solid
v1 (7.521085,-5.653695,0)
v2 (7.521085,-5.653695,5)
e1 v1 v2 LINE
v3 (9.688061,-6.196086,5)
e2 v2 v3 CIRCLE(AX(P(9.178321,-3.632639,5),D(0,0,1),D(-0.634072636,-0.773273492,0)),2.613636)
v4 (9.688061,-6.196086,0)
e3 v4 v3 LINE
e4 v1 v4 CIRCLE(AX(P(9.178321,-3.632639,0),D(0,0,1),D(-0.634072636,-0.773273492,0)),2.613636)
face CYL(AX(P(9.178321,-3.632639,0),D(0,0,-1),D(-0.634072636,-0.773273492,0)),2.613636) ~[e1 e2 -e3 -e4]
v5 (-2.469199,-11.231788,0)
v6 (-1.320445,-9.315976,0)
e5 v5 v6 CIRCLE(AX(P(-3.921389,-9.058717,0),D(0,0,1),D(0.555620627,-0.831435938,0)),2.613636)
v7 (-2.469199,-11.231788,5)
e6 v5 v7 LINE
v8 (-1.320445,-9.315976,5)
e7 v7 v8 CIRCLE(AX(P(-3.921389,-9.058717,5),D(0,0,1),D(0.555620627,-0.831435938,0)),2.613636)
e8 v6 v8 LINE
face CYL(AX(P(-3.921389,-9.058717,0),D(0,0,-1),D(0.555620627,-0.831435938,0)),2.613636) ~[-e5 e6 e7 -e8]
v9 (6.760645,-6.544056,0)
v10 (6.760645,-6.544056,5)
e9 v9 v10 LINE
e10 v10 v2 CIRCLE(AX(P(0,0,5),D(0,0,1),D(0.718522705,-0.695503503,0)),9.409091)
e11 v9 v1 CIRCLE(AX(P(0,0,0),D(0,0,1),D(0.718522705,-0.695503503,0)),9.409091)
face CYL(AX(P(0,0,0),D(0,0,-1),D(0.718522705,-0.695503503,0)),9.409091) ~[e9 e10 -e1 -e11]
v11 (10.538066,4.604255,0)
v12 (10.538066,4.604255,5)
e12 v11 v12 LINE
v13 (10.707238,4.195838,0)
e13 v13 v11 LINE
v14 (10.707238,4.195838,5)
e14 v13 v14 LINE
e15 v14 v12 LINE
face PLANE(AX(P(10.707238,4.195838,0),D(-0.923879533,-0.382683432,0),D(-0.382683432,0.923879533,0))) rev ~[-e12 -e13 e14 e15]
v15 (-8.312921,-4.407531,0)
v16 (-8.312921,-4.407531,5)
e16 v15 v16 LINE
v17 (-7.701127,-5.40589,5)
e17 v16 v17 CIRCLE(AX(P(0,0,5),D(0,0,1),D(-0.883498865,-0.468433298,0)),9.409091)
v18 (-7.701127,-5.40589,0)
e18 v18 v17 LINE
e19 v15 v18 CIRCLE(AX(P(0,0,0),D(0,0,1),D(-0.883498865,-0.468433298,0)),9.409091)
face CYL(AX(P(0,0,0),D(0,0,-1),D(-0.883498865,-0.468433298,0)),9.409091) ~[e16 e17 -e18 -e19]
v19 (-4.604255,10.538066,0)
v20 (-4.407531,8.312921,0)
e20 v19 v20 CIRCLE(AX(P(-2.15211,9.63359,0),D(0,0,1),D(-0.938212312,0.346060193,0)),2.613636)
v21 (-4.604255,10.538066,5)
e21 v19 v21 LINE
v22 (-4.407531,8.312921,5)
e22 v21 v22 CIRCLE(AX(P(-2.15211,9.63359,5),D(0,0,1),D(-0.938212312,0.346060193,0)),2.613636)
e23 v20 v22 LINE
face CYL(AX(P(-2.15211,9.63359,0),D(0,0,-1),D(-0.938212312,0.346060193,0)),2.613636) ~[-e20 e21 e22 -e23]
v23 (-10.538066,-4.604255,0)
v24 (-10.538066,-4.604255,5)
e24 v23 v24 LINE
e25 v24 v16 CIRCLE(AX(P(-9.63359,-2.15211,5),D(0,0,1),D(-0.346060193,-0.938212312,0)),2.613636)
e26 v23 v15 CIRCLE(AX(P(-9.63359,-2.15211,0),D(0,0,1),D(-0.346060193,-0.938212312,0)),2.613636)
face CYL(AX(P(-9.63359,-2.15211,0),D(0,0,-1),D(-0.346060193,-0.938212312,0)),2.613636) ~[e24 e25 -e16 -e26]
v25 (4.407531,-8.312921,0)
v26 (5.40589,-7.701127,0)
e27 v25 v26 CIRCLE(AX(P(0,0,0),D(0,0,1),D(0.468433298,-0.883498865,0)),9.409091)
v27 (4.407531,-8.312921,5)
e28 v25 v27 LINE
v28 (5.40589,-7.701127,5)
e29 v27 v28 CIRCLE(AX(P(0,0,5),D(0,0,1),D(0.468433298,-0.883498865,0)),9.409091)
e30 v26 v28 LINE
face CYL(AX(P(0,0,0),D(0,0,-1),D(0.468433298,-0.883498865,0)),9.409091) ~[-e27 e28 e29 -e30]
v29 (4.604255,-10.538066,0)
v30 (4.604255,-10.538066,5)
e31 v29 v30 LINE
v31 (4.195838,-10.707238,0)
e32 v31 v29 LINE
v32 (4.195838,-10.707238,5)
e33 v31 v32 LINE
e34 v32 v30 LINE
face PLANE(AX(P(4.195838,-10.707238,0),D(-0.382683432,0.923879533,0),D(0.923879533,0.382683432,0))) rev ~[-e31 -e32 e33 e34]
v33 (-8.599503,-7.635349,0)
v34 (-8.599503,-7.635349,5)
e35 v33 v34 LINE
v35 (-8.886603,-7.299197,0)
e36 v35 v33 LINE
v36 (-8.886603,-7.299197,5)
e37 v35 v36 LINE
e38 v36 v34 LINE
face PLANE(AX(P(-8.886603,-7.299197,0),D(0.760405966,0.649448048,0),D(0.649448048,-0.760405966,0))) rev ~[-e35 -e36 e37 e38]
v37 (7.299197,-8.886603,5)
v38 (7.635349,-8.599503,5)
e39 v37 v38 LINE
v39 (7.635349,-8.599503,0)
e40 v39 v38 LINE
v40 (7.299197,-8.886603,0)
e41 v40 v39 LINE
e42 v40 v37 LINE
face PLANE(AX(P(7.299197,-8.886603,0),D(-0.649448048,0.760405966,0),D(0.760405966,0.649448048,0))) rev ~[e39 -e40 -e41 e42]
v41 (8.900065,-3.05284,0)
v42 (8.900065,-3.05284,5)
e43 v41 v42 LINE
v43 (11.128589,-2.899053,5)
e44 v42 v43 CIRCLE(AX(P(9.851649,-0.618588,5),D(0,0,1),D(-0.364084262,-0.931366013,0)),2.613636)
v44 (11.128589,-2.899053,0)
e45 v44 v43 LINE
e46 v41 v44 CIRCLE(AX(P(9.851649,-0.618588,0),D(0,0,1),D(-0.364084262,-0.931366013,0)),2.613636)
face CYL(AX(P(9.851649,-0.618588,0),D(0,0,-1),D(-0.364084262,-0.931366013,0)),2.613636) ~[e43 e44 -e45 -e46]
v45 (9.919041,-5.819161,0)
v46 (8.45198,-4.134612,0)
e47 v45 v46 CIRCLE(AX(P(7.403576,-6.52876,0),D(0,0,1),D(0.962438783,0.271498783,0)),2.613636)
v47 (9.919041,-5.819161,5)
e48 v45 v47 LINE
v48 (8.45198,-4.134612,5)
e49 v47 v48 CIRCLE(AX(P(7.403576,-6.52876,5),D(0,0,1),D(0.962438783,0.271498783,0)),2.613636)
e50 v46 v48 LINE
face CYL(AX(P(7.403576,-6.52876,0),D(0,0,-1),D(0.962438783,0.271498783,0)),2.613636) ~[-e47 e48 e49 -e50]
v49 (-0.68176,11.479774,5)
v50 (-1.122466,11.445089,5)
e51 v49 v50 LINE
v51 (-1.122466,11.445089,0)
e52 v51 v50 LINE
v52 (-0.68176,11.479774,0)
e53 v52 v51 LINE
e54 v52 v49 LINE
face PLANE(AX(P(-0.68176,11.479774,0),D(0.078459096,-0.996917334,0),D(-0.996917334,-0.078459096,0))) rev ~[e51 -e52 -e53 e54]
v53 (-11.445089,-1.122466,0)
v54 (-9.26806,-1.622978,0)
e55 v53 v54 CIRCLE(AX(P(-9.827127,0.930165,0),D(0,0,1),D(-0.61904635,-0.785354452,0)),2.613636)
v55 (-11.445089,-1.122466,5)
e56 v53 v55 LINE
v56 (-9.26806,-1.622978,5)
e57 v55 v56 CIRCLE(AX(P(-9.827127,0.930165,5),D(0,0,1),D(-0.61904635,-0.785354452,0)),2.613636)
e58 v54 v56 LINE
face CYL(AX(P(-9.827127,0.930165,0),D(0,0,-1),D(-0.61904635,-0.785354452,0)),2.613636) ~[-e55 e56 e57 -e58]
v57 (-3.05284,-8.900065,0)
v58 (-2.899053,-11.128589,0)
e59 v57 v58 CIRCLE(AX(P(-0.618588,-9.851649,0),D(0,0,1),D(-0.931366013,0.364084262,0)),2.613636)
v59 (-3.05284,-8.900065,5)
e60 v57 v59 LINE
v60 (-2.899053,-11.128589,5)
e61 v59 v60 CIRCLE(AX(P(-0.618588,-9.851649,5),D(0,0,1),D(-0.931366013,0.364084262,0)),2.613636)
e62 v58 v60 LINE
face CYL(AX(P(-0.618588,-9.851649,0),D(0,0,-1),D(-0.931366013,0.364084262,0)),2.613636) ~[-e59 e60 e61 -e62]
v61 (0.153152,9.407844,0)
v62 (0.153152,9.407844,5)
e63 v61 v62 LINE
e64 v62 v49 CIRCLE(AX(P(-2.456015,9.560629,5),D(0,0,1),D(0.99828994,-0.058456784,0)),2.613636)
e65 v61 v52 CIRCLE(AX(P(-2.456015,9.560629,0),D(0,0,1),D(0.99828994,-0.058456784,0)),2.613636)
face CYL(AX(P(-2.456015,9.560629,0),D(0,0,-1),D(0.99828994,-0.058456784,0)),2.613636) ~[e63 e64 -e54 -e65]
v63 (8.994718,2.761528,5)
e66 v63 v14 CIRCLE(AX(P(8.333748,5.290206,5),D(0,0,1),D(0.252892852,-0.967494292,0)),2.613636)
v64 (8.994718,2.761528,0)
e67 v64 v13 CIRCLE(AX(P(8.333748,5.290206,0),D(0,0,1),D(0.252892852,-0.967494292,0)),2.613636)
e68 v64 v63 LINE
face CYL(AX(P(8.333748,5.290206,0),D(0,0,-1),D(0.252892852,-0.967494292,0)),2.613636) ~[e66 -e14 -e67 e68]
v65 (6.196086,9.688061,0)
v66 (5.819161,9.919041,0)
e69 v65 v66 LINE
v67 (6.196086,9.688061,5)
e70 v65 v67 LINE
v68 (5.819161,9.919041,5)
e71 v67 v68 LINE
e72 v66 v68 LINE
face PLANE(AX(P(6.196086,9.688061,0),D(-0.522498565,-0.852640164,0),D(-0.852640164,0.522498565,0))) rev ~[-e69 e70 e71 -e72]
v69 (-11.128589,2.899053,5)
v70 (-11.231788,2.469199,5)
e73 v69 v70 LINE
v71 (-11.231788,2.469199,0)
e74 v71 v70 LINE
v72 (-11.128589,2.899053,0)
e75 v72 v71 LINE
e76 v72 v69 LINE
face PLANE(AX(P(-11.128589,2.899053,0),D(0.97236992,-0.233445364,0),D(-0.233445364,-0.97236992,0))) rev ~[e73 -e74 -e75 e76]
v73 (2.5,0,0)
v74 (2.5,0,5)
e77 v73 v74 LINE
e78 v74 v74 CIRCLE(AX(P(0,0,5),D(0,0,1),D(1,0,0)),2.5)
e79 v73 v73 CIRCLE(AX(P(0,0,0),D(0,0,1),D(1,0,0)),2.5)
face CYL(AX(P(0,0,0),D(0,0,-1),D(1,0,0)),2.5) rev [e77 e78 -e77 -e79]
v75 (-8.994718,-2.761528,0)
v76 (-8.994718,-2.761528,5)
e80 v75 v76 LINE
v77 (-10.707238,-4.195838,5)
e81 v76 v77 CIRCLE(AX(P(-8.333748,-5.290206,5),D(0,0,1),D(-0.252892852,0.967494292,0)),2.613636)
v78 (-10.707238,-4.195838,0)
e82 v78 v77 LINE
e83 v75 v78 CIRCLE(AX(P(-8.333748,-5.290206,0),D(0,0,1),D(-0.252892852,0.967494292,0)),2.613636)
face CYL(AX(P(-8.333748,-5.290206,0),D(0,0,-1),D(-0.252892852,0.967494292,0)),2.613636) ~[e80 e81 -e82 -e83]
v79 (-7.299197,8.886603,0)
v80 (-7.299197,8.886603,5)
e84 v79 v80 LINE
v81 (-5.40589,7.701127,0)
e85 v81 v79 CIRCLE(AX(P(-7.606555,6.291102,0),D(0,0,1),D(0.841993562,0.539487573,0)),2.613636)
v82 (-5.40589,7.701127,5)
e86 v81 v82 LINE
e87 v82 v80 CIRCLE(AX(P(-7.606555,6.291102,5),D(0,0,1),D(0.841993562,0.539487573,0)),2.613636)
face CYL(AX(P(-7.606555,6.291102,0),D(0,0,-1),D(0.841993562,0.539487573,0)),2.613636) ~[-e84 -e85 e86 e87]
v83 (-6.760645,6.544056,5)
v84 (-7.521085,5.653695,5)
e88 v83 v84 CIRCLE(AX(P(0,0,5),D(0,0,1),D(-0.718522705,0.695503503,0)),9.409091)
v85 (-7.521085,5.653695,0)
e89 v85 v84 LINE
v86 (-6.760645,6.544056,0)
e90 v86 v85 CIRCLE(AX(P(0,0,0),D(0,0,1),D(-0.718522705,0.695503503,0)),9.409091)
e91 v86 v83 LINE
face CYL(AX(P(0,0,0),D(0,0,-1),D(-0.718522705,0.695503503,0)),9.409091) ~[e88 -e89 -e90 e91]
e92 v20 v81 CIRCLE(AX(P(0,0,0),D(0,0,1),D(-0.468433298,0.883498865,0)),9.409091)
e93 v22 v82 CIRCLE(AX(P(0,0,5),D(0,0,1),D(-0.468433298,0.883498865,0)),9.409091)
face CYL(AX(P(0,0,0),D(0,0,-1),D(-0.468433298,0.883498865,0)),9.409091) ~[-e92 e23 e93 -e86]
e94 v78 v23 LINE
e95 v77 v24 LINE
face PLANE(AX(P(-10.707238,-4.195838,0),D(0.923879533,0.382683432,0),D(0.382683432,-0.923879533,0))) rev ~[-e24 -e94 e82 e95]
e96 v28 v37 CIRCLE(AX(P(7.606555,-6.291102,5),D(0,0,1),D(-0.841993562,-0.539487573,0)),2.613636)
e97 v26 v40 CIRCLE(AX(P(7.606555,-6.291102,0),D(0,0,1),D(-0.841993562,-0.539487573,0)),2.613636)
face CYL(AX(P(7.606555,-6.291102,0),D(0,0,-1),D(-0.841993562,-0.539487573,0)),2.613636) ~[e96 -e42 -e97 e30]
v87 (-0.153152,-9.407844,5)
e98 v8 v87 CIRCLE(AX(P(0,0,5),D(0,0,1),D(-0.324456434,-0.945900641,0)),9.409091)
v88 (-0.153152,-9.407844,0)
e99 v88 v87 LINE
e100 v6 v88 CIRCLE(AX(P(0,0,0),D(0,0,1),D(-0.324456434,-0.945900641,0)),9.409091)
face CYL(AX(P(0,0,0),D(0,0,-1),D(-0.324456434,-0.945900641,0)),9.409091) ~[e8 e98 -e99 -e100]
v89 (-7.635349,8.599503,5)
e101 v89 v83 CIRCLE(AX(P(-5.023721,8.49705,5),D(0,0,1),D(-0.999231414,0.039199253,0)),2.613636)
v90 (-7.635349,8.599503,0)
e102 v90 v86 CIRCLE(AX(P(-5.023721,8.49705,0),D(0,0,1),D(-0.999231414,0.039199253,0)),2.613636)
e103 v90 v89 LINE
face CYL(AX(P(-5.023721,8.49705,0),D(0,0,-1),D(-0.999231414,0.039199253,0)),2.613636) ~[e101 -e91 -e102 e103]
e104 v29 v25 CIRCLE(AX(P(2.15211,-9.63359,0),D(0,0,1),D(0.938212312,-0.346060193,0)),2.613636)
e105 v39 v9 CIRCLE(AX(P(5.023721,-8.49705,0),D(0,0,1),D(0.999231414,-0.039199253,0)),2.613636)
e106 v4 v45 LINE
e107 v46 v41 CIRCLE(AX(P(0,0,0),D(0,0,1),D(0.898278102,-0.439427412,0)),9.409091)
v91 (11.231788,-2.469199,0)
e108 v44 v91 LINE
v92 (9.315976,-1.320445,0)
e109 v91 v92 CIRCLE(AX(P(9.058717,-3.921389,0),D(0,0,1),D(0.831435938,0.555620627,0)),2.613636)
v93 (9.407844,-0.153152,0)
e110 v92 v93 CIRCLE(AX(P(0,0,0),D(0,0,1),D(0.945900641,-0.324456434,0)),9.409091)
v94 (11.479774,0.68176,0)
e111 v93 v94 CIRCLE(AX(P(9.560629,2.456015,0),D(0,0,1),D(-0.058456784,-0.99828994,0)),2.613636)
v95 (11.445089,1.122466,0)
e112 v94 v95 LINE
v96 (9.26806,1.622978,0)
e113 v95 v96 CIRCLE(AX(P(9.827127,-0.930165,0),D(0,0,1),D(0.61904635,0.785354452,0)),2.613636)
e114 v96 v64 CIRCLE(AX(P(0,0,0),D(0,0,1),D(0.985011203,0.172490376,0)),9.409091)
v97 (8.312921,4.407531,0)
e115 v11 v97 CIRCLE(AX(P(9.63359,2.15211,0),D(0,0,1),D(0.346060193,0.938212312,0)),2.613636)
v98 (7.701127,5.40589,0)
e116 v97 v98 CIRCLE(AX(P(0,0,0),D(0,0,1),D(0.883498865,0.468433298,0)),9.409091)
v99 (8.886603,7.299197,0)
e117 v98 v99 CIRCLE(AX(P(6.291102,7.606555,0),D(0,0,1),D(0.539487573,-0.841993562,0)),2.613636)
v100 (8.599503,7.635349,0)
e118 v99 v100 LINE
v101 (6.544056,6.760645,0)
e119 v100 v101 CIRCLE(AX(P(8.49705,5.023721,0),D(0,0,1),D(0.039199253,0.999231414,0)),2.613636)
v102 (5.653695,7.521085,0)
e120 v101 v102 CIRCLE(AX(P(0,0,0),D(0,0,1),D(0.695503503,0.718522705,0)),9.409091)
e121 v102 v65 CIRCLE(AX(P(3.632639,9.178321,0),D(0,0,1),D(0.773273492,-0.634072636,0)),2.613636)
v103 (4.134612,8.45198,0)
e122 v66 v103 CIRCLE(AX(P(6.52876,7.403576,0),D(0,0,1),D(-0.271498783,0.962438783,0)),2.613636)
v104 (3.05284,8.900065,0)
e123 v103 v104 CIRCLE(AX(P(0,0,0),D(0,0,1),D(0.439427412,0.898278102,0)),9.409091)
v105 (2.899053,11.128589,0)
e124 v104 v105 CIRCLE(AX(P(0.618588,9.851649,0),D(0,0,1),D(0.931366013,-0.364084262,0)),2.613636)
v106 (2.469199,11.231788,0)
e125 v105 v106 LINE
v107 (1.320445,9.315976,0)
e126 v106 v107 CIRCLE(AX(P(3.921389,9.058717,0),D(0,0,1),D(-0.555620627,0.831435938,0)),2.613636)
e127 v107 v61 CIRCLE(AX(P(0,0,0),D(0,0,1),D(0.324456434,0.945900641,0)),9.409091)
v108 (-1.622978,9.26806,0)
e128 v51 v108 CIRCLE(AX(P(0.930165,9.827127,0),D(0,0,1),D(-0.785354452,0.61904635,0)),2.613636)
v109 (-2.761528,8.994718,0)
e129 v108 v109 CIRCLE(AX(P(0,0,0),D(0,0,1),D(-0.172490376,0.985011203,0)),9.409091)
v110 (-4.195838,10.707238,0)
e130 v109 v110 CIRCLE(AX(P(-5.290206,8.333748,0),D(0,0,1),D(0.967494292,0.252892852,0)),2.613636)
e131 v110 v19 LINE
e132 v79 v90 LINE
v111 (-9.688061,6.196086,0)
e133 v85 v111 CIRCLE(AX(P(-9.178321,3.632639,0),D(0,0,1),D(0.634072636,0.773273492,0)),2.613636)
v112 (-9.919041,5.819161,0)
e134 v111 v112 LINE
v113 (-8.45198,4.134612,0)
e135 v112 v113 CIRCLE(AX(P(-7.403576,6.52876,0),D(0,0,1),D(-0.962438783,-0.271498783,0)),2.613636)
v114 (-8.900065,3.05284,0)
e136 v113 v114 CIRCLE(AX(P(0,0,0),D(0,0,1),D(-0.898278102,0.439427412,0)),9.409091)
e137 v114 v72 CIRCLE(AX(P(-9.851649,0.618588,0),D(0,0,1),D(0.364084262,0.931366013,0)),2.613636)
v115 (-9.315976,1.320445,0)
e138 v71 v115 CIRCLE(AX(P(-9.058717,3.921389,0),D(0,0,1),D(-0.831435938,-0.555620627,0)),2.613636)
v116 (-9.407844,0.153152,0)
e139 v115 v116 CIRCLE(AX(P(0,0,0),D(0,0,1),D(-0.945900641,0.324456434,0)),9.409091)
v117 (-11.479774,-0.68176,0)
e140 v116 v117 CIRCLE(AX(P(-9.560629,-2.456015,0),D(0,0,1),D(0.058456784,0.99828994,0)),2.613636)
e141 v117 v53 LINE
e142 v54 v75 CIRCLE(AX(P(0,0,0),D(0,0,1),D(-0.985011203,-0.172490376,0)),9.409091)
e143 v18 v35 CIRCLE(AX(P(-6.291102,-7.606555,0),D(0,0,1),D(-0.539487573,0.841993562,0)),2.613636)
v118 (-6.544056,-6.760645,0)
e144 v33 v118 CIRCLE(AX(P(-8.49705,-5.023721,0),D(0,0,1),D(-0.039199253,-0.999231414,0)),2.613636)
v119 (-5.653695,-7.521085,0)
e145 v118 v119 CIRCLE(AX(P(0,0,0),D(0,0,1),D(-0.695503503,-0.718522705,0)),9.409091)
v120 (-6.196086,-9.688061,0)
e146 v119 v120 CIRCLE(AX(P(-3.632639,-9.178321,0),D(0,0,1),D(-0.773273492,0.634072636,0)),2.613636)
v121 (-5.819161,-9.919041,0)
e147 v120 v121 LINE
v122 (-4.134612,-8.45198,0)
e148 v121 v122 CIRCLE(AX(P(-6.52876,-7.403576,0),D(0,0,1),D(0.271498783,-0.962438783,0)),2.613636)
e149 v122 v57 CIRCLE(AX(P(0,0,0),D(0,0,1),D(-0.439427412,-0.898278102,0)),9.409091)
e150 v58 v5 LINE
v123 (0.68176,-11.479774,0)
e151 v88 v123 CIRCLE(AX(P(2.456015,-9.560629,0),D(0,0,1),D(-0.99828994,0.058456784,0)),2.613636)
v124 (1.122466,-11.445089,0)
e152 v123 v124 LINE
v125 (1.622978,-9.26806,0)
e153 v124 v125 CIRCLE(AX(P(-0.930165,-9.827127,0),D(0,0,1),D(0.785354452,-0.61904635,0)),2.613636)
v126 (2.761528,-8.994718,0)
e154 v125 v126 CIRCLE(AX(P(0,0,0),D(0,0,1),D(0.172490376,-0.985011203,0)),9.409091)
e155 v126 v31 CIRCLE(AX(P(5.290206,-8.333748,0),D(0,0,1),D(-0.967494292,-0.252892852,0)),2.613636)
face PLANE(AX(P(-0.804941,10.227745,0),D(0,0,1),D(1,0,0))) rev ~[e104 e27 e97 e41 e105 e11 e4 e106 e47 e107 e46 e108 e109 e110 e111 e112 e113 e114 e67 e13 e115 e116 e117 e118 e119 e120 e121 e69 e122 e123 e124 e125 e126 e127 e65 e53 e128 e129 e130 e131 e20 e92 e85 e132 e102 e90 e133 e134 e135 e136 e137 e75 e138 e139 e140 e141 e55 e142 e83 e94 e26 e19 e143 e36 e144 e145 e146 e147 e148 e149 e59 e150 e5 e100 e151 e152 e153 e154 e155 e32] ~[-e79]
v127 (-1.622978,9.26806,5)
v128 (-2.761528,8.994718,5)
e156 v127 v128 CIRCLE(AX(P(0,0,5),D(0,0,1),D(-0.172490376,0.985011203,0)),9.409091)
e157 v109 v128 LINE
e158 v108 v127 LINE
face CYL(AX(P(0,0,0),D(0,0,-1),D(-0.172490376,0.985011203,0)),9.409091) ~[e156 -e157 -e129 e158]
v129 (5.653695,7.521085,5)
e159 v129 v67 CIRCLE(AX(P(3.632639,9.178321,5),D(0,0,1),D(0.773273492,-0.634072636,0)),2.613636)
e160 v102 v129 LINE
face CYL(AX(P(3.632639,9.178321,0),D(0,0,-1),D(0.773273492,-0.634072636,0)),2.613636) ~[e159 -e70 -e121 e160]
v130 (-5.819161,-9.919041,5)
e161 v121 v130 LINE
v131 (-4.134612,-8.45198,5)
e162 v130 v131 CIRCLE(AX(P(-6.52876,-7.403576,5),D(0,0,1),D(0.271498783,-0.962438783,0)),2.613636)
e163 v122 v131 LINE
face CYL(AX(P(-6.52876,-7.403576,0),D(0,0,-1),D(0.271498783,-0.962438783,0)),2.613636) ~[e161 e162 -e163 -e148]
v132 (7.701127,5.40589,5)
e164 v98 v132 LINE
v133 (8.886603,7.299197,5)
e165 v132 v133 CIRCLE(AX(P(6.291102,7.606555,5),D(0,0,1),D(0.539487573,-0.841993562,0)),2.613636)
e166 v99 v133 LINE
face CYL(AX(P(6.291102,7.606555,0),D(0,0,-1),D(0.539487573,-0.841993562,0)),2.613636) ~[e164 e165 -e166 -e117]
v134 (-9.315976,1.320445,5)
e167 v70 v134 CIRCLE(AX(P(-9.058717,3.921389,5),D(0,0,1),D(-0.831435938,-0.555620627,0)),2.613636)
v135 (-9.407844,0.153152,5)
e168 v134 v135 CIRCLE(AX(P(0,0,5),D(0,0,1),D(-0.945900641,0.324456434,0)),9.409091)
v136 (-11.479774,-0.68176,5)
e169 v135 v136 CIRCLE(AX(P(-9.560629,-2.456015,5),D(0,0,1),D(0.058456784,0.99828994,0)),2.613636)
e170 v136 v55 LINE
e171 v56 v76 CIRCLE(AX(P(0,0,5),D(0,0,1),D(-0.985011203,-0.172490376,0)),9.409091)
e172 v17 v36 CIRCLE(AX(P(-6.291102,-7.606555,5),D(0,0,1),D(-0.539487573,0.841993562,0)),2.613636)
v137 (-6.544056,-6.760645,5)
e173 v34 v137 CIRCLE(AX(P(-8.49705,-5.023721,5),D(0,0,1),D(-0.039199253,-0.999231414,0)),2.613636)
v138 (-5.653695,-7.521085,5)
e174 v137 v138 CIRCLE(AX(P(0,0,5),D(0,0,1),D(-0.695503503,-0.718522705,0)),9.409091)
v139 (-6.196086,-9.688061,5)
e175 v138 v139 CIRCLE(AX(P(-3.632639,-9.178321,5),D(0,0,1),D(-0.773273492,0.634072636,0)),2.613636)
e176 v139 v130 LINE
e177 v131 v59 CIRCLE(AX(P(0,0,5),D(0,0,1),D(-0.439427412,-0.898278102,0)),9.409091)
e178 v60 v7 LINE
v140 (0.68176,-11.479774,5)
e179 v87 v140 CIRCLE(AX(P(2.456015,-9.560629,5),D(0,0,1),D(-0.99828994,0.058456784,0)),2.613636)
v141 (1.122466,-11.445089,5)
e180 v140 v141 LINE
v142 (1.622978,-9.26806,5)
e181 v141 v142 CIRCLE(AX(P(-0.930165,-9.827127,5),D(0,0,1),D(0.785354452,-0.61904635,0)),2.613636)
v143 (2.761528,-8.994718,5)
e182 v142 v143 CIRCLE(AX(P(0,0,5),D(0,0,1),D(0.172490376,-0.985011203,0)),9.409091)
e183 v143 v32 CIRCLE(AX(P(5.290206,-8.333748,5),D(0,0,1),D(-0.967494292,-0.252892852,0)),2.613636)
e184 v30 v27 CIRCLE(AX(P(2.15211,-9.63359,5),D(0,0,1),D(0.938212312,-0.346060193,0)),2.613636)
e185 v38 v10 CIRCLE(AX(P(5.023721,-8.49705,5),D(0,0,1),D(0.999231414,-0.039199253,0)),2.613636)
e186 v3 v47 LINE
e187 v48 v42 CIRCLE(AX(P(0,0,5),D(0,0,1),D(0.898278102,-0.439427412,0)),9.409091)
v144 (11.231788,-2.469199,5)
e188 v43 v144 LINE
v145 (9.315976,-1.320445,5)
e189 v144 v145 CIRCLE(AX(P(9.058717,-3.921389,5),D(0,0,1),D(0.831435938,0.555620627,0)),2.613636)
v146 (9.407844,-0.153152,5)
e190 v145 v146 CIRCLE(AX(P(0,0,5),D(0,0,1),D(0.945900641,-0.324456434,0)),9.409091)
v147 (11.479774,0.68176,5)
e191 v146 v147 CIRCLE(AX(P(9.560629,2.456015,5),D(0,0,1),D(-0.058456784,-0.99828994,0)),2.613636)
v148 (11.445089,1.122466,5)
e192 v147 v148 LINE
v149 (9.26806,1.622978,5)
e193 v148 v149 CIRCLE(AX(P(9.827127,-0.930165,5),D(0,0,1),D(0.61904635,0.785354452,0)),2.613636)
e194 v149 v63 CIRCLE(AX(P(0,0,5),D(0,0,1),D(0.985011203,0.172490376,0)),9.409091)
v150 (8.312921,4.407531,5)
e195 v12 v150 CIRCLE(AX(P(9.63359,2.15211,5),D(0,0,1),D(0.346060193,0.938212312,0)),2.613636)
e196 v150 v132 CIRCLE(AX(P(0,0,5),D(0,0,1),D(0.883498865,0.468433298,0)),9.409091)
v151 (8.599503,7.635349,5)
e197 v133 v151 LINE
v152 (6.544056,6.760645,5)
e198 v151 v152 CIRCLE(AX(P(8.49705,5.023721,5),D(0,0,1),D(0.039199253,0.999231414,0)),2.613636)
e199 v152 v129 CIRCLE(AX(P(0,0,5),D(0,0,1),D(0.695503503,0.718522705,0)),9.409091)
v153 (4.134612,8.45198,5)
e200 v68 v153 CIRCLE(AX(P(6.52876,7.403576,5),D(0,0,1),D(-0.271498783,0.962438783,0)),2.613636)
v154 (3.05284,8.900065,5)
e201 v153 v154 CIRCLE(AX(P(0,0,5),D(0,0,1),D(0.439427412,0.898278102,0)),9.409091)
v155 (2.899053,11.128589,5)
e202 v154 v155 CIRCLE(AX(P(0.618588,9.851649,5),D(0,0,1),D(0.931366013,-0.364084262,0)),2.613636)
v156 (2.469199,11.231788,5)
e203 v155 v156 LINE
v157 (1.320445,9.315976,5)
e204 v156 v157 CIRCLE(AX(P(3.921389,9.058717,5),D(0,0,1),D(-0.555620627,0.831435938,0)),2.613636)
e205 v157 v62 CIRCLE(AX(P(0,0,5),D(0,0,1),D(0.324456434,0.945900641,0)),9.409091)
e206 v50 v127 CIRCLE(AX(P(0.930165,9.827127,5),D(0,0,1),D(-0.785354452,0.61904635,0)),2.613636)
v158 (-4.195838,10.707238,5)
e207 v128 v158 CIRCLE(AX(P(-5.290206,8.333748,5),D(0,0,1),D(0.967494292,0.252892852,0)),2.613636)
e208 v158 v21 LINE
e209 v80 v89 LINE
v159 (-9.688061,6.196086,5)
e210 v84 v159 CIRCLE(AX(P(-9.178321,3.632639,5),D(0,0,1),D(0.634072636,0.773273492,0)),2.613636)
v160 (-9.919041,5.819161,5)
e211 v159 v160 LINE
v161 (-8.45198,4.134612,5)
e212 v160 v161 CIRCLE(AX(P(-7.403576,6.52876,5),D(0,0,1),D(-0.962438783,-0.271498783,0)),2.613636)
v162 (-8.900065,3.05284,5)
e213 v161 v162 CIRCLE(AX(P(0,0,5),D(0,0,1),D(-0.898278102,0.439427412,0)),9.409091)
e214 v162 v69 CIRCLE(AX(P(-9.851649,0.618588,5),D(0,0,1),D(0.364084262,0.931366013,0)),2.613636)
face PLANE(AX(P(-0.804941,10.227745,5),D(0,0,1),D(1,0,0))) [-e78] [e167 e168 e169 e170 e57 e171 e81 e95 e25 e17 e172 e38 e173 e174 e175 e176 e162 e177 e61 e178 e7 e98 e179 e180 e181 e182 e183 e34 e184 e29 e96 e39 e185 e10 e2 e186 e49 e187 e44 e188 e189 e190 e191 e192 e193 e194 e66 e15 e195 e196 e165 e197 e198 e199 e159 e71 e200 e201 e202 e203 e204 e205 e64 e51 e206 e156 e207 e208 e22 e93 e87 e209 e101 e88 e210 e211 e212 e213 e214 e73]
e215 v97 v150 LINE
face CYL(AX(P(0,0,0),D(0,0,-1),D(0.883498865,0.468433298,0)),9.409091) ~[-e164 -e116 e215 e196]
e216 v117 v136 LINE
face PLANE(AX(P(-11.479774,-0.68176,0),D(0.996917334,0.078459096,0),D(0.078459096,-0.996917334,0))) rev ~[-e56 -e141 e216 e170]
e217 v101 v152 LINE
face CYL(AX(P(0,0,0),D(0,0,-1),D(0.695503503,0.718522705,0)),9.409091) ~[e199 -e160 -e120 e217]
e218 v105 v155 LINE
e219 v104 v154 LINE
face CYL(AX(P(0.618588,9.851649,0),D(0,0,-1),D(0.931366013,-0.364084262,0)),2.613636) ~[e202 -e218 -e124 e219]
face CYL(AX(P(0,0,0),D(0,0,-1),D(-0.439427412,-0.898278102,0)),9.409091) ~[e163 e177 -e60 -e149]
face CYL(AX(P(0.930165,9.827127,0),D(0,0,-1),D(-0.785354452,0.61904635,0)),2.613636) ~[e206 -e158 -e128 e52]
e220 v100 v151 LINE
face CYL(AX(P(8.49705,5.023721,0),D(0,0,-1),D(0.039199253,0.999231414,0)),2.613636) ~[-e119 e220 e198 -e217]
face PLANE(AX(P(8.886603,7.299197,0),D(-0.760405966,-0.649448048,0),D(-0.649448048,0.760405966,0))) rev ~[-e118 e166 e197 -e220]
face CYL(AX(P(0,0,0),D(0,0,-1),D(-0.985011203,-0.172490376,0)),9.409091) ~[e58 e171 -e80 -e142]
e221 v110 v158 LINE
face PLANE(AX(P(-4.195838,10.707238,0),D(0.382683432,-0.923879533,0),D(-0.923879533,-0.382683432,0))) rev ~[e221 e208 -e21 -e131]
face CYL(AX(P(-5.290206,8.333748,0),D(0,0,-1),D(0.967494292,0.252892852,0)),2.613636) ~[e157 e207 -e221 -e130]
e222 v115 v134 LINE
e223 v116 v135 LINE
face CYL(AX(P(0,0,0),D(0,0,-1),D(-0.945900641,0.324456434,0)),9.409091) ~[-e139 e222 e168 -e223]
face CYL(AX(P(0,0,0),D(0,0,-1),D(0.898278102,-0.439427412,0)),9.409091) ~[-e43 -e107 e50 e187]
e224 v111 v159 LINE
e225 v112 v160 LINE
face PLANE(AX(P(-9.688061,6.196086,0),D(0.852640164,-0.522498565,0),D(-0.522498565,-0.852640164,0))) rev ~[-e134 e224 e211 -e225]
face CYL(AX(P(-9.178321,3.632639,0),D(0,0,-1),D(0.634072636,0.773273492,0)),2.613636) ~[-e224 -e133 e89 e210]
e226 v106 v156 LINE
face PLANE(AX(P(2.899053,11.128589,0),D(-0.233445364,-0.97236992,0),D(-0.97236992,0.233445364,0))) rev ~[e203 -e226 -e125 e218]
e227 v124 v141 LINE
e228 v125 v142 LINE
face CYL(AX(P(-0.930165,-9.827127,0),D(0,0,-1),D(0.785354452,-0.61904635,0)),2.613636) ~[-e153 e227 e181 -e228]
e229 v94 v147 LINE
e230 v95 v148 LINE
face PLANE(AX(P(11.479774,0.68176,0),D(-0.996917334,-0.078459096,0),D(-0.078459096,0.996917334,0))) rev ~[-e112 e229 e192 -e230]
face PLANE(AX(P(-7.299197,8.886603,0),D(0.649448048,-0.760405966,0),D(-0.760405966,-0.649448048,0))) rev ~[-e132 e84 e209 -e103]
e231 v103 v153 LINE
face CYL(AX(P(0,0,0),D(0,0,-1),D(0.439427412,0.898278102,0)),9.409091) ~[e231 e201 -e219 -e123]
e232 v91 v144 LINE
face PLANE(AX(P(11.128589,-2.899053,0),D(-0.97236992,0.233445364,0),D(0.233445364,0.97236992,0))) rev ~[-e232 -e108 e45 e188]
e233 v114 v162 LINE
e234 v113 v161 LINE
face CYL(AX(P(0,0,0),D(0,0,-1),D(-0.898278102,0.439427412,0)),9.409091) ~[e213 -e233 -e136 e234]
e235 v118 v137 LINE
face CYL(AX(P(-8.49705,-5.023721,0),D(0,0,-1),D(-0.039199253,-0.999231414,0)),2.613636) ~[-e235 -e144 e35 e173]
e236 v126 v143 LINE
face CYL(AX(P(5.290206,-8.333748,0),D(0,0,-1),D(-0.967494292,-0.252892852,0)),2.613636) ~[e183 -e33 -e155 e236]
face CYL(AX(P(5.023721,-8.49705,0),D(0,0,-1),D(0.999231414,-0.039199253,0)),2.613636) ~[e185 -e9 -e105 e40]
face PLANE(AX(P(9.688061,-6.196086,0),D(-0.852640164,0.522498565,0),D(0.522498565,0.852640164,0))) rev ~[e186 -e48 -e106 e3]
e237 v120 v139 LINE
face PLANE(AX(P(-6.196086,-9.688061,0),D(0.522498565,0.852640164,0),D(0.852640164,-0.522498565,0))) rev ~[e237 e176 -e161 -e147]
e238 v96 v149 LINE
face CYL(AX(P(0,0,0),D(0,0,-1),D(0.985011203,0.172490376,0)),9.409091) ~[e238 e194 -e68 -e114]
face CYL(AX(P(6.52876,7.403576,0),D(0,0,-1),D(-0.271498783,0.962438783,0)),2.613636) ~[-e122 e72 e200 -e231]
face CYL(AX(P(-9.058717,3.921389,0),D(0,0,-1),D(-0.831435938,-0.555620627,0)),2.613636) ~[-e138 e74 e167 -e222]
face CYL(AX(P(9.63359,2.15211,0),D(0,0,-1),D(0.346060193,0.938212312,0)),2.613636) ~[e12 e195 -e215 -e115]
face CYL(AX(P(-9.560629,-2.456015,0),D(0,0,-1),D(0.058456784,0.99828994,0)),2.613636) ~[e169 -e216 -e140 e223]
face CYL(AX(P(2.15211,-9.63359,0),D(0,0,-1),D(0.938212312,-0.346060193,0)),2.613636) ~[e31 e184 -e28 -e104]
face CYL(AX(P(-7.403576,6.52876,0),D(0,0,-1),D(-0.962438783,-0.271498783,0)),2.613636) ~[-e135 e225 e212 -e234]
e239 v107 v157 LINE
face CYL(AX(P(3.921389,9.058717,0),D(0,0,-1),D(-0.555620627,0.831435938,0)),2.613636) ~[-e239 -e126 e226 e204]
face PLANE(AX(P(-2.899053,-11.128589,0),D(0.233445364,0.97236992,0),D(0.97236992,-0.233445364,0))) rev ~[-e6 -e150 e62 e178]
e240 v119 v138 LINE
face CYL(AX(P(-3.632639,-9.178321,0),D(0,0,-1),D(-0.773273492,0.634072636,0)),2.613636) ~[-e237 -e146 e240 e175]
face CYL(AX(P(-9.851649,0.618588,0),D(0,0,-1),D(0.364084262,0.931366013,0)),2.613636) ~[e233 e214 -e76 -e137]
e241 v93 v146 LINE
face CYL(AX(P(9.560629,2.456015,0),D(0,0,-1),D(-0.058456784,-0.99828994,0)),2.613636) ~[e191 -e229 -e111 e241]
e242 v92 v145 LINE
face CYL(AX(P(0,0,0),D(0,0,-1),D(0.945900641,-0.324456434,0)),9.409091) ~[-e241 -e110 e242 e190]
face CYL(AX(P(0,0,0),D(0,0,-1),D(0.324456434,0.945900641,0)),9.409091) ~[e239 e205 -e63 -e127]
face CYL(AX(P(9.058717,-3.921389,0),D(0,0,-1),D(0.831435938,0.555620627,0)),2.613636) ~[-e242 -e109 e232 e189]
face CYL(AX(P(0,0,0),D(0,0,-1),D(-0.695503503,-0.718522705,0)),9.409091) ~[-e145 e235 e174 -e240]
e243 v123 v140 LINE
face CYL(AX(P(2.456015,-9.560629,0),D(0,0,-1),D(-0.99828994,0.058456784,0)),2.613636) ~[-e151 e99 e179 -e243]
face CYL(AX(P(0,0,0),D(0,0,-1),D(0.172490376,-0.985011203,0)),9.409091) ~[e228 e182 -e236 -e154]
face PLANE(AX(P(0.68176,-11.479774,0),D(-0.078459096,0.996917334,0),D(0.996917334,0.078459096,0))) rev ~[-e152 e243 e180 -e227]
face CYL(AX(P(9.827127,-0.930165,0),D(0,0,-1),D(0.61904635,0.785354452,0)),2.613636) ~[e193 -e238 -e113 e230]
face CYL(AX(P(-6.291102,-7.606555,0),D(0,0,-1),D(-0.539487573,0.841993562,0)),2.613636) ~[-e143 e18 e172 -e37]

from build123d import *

# Parameters (mm, degrees)
F1_R     = 2.5
F2_DEPTH = 5


with BuildPart() as f2:
    # F1 (on Top) → F2 (new body)
    with BuildSketch(Plane.XY):
        with BuildLine():
            ThreePointArc((-1.6229776334, 9.2680599554), (-0.7382287643, 9.3800858219), (0.1531520845, 9.4078443957))
            ThreePointArc((0.1531520845, 9.4078443957), (-0.0317997207, 10.5374998224), (-0.6817601701, 11.4797736507))
            Line((-0.6817601701, 11.4797736507), (-1.1224656787, 11.4450893749))
            ThreePointArc((-1.1224656787, 11.4450893749), (-1.6170199342, 10.4127402859), (-1.6229776334, 9.2680599554))
        make_face()
        with BuildLine():
            ThreePointArc((9.4078443957, -0.1531520845), (9.4087792756, -0.0765785786), (9.4090909091, 0))
            ThreePointArc((9.4090909091, 0), (9.3737668631, 0.8145468262), (9.2680599554, 1.6229776334))
            ThreePointArc((9.2680599554, 1.6229776334), (9.1491169783, 2.1965086508), (8.9947183137, 2.7615275108))
            ThreePointArc((8.9947183137, 2.7615275108), (8.6928665104, 3.6007032045), (8.3129211438, 4.4075314852))
            ThreePointArc((8.3129211438, 4.4075314852), (8.0225688191, 4.9162364953), (7.7011265332, 5.4058895526))
            ThreePointArc((7.7011265332, 5.4058895526), (7.1547288581, 6.1107157275), (6.5440556911, 6.7606454461))
            ThreePointArc((6.5440556911, 6.7606454461), (6.1107157275, 7.1547288581), (5.6536948308, 7.52108546))
            ThreePointArc((5.6536948308, 7.52108546), (4.9162364953, 8.0225688191), (4.1346124722, 8.4519803265))
            ThreePointArc((4.1346124722, 8.4519803265), (3.6007032045, 8.6928665104), (3.0528400867, 8.90006512))
            ThreePointArc((3.0528400867, 8.90006512), (2.1965086508, 9.1491169783), (1.320444577, 9.3159764842))
            ThreePointArc((1.320444577, 9.3159764842), (0.7382287643, 9.3800858219), (0.1531520845, 9.4078443957))
            ThreePointArc((0.1531520845, 9.4078443957), (-0.7382287643, 9.3800858219), (-1.6229776334, 9.2680599554))
            ThreePointArc((-1.6229776334, 9.2680599554), (-2.1965086508, 9.1491169783), (-2.7615275108, 8.9947183137))
            ThreePointArc((-2.7615275108, 8.9947183137), (-3.6007032045, 8.6928665104), (-4.4075314852, 8.3129211438))
            ThreePointArc((-4.4075314852, 8.3129211438), (-4.9162364953, 8.0225688191), (-5.4058895526, 7.7011265332))
            ThreePointArc((-5.4058895526, 7.7011265332), (-6.1107157275, 7.1547288581), (-6.7606454461, 6.5440556911))
            ThreePointArc((-6.7606454461, 6.5440556911), (-7.1547288581, 6.1107157275), (-7.52108546, 5.6536948308))
            ThreePointArc((-7.52108546, 5.6536948308), (-8.0225688191, 4.9162364953), (-8.4519803265, 4.1346124722))
            ThreePointArc((-8.4519803265, 4.1346124722), (-8.6928665104, 3.6007032045), (-8.90006512, 3.0528400867))
            ThreePointArc((-8.90006512, 3.0528400867), (-9.1491169783, 2.1965086508), (-9.3159764842, 1.320444577))
            ThreePointArc((-9.3159764842, 1.320444577), (-9.3800858219, 0.7382287643), (-9.4078443957, 0.1531520845))
            ThreePointArc((-9.4078443957, 0.1531520845), (-9.3800858219, -0.7382287643), (-9.2680599554, -1.6229776334))
            ThreePointArc((-9.2680599554, -1.6229776334), (-9.1491169783, -2.1965086508), (-8.9947183137, -2.7615275108))
            ThreePointArc((-8.9947183137, -2.7615275108), (-8.6928665104, -3.6007032045), (-8.3129211438, -4.4075314852))
            ThreePointArc((-8.3129211438, -4.4075314852), (-8.0225688191, -4.9162364953), (-7.7011265332, -5.4058895526))
            ThreePointArc((-7.7011265332, -5.4058895526), (-7.1547288581, -6.1107157275), (-6.5440556911, -6.7606454461))
            ThreePointArc((-6.5440556911, -6.7606454461), (-6.1107157275, -7.1547288581), (-5.6536948308, -7.52108546))
            ThreePointArc((-5.6536948308, -7.52108546), (-4.9162364953, -8.0225688191), (-4.1346124722, -8.4519803265))
            ThreePointArc((-4.1346124722, -8.4519803265), (-3.6007032045, -8.6928665104), (-3.0528400867, -8.90006512))
            ThreePointArc((-3.0528400867, -8.90006512), (-2.1965086508, -9.1491169783), (-1.320444577, -9.3159764842))
            ThreePointArc((-1.320444577, -9.3159764842), (-0.7382287643, -9.3800858219), (-0.1531520845, -9.4078443957))
            ThreePointArc((-0.1531520845, -9.4078443957), (0.7382287643, -9.3800858219), (1.6229776334, -9.2680599554))
            ThreePointArc((1.6229776334, -9.2680599554), (2.1965086508, -9.1491169783), (2.7615275108, -8.9947183137))
            ThreePointArc((2.7615275108, -8.9947183137), (3.6007032045, -8.6928665104), (4.4075314852, -8.3129211438))
            ThreePointArc((4.4075314852, -8.3129211438), (4.9162364953, -8.0225688191), (5.4058895526, -7.7011265332))
            ThreePointArc((5.4058895526, -7.7011265332), (6.1107157275, -7.1547288581), (6.7606454461, -6.5440556911))
            ThreePointArc((6.7606454461, -6.5440556911), (7.1547288581, -6.1107157275), (7.52108546, -5.6536948308))
            ThreePointArc((7.52108546, -5.6536948308), (8.0225688191, -4.9162364953), (8.4519803265, -4.1346124722))
            ThreePointArc((8.4519803265, -4.1346124722), (8.6928665104, -3.6007032045), (8.90006512, -3.0528400867))
            ThreePointArc((8.90006512, -3.0528400867), (9.1491169783, -2.1965086508), (9.3159764842, -1.320444577))
            ThreePointArc((9.3159764842, -1.320444577), (9.3800858219, -0.7382287643), (9.4078443957, -0.1531520845))
        make_face()
        Circle(F1_R, mode=Mode.SUBTRACT)
        with BuildLine():
            ThreePointArc((-4.4075314852, 8.3129211438), (-3.6007032045, 8.6928665104), (-2.7615275108, 8.9947183137))
            ThreePointArc((-2.7615275108, 8.9947183137), (-3.286509855, 10.0119312174), (-4.195837602, 10.7072380574))
            Line((-4.195837602, 10.7072380574), (-4.604255417, 10.5380658593))
            ThreePointArc((-4.604255417, 10.5380658593), (-4.7555910517, 9.4034178615), (-4.4075314852, 8.3129211438))
        make_face()
        with BuildLine():
            ThreePointArc((-6.7606454461, 6.5440556911), (-6.1107157275, 7.1547288581), (-5.4058895526, 7.7011265332))
            ThreePointArc((-5.4058895526, 7.7011265332), (-6.2195135061, 8.5063250277), (-7.2991972152, 8.8866034014))
            Line((-7.2991972152, 8.8866034014), (-7.6353485554, 8.5995030343))
            ThreePointArc((-7.6353485554, 8.5995030343), (-7.428651783, 7.4736233793), (-6.7606454461, 6.5440556911))
        make_face()
        with BuildLine():
            ThreePointArc((-8.4519803265, 4.1346124722), (-8.0225688191, 4.9162364953), (-7.52108546, 5.6536948308))
            ThreePointArc((-7.52108546, 5.6536948308), (-8.5437078414, 6.1680604771), (-9.6880605486, 6.1960860878))
            Line((-9.6880605486, 6.1960860878), (-9.9190405786, 5.8191609361))
            ThreePointArc((-9.9190405786, 5.8191609361), (-9.3745443193, 4.812258569), (-8.4519803265, 4.1346124722))
        make_face()
        with BuildLine():
            ThreePointArc((-9.3159764842, 1.320444577), (-9.1491169783, 2.1965086508), (-8.90006512, 3.0528400867))
            ThreePointArc((-8.90006512, 3.0528400867), (-10.0315845257, 3.2260231917), (-11.1285890147, 2.8990526973))
            Line((-11.1285890147, 2.8990526973), (-11.2317877999, 2.469198821))
            ThreePointArc((-11.2317877999, 2.469198821), (-10.4027911413, 1.679836361), (-9.3159764842, 1.320444577))
        make_face()
        with BuildLine():
            ThreePointArc((-9.2680599554, -1.6229776334), (-9.3800858219, -0.7382287643), (-9.4078443957, 0.1531520845))
            ThreePointArc((-9.4078443957, 0.1531520845), (-10.5374998224, -0.0317997207), (-11.4797736507, -0.6817601701))
            Line((-11.4797736507, -0.6817601701), (-11.4450893749, -1.1224656787))
            ThreePointArc((-11.4450893749, -1.1224656787), (-10.4127402859, -1.6170199342), (-9.2680599554, -1.6229776334))
        make_face()
        with BuildLine():
            ThreePointArc((-10.5380658593, -4.604255417), (-9.4034178615, -4.7555910517), (-8.3129211438, -4.4075314852))
            ThreePointArc((-8.3129211438, -4.4075314852), (-8.6928665104, -3.6007032045), (-8.9947183137, -2.7615275108))
            ThreePointArc((-8.9947183137, -2.7615275108), (-10.0119312174, -3.286509855), (-10.7072380574, -4.195837602))
            Line((-10.7072380574, -4.195837602), (-10.5380658593, -4.604255417))
        make_face()
        with BuildLine():
            ThreePointArc((-8.5995030343, -7.6353485554), (-7.4736233793, -7.428651783), (-6.5440556911, -6.7606454461))
            ThreePointArc((-6.5440556911, -6.7606454461), (-7.1547288581, -6.1107157275), (-7.7011265332, -5.4058895526))
            ThreePointArc((-7.7011265332, -5.4058895526), (-8.5063250277, -6.2195135061), (-8.8866034014, -7.2991972152))
            Line((-8.8866034014, -7.2991972152), (-8.5995030343, -7.6353485554))
        make_face()
        with BuildLine():
            ThreePointArc((-5.8191609361, -9.9190405786), (-4.812258569, -9.3745443193), (-4.1346124722, -8.4519803265))
            ThreePointArc((-4.1346124722, -8.4519803265), (-4.9162364953, -8.0225688191), (-5.6536948308, -7.52108546))
            ThreePointArc((-5.6536948308, -7.52108546), (-6.1680604771, -8.5437078414), (-6.1960860878, -9.6880605486))
            Line((-6.1960860878, -9.6880605486), (-5.8191609361, -9.9190405786))
        make_face()
        with BuildLine():
            ThreePointArc((-2.469198821, -11.2317877999), (-1.679836361, -10.4027911413), (-1.320444577, -9.3159764842))
            ThreePointArc((-1.320444577, -9.3159764842), (-2.1965086508, -9.1491169783), (-3.0528400867, -8.90006512))
            ThreePointArc((-3.0528400867, -8.90006512), (-3.2260231917, -10.0315845257), (-2.8990526973, -11.1285890147))
            Line((-2.8990526973, -11.1285890147), (-2.469198821, -11.2317877999))
        make_face()
        with BuildLine():
            ThreePointArc((1.1224656787, -11.4450893749), (1.6170199342, -10.4127402859), (1.6229776334, -9.2680599554))
            ThreePointArc((1.6229776334, -9.2680599554), (0.7382287643, -9.3800858219), (-0.1531520845, -9.4078443957))
            ThreePointArc((-0.1531520845, -9.4078443957), (0.0317997207, -10.5374998224), (0.6817601701, -11.4797736507))
            Line((0.6817601701, -11.4797736507), (1.1224656787, -11.4450893749))
        make_face()
        with BuildLine():
            ThreePointArc((4.604255417, -10.5380658593), (4.7555910517, -9.4034178615), (4.4075314852, -8.3129211438))
            ThreePointArc((4.4075314852, -8.3129211438), (3.6007032045, -8.6928665104), (2.7615275108, -8.9947183137))
            ThreePointArc((2.7615275108, -8.9947183137), (3.286509855, -10.0119312174), (4.195837602, -10.7072380574))
            Line((4.195837602, -10.7072380574), (4.604255417, -10.5380658593))
        make_face()
        with BuildLine():
            ThreePointArc((7.6353485554, -8.5995030343), (7.428651783, -7.4736233793), (6.7606454461, -6.5440556911))
            ThreePointArc((6.7606454461, -6.5440556911), (6.1107157275, -7.1547288581), (5.4058895526, -7.7011265332))
            ThreePointArc((5.4058895526, -7.7011265332), (6.2195135061, -8.5063250277), (7.2991972152, -8.8866034014))
            Line((7.2991972152, -8.8866034014), (7.6353485554, -8.5995030343))
        make_face()
        with BuildLine():
            ThreePointArc((9.9190405786, -5.8191609361), (9.3745443193, -4.812258569), (8.4519803265, -4.1346124722))
            ThreePointArc((8.4519803265, -4.1346124722), (8.0225688191, -4.9162364953), (7.52108546, -5.6536948308))
            ThreePointArc((7.52108546, -5.6536948308), (8.5437078414, -6.1680604771), (9.6880605486, -6.1960860878))
            Line((9.6880605486, -6.1960860878), (9.9190405786, -5.8191609361))
        make_face()
        with BuildLine():
            ThreePointArc((11.2317877999, -2.469198821), (10.4027911413, -1.679836361), (9.3159764842, -1.320444577))
            ThreePointArc((9.3159764842, -1.320444577), (9.1491169783, -2.1965086508), (8.90006512, -3.0528400867))
            ThreePointArc((8.90006512, -3.0528400867), (10.0315845257, -3.2260231917), (11.1285890147, -2.8990526973))
            Line((11.1285890147, -2.8990526973), (11.2317877999, -2.469198821))
        make_face()
        with BuildLine():
            ThreePointArc((9.2680599554, 1.6229776334), (9.3737668631, 0.8145468262), (9.4090909091, 0))
            ThreePointArc((9.4090909091, 0), (9.4087792756, -0.0765785786), (9.4078443957, -0.1531520845))
            ThreePointArc((9.4078443957, -0.1531520845), (10.5374998224, 0.0317997207), (11.4797736507, 0.6817601701))
            Line((11.4797736507, 0.6817601701), (11.4450893749, 1.1224656787))
            ThreePointArc((11.4450893749, 1.1224656787), (10.4127402859, 1.6170199342), (9.2680599554, 1.6229776334))
        make_face()
        with BuildLine():
            ThreePointArc((8.3129211438, 4.4075314852), (8.6928665104, 3.6007032045), (8.9947183137, 2.7615275108))
            ThreePointArc((8.9947183137, 2.7615275108), (10.0119312174, 3.286509855), (10.7072380574, 4.195837602))
            Line((10.7072380574, 4.195837602), (10.5380658593, 4.604255417))
            ThreePointArc((10.5380658593, 4.604255417), (9.4034178615, 4.7555910517), (8.3129211438, 4.4075314852))
        make_face()
        with BuildLine():
            ThreePointArc((6.5440556911, 6.7606454461), (7.1547288581, 6.1107157275), (7.7011265332, 5.4058895526))
            ThreePointArc((7.7011265332, 5.4058895526), (8.5063250277, 6.2195135061), (8.8866034014, 7.2991972152))
            Line((8.8866034014, 7.2991972152), (8.5995030343, 7.6353485554))
            ThreePointArc((8.5995030343, 7.6353485554), (7.4736233793, 7.428651783), (6.5440556911, 6.7606454461))
        make_face()
        with BuildLine():
            ThreePointArc((4.1346124722, 8.4519803265), (4.9162364953, 8.0225688191), (5.6536948308, 7.52108546))
            ThreePointArc((5.6536948308, 7.52108546), (6.1680604771, 8.5437078414), (6.1960860878, 9.6880605486))
            Line((6.1960860878, 9.6880605486), (5.8191609361, 9.9190405786))
            ThreePointArc((5.8191609361, 9.9190405786), (4.812258569, 9.3745443193), (4.1346124722, 8.4519803265))
        make_face()
        with BuildLine():
            ThreePointArc((1.320444577, 9.3159764842), (2.1965086508, 9.1491169783), (3.0528400867, 8.90006512))
            ThreePointArc((3.0528400867, 8.90006512), (3.2260231917, 10.0315845257), (2.8990526973, 11.1285890147))
            Line((2.8990526973, 11.1285890147), (2.469198821, 11.2317877999))
            ThreePointArc((2.469198821, 11.2317877999), (1.679836361, 10.4027911413), (1.320444577, 9.3159764842))
        make_face()
    extrude(amount=F2_DEPTH)


solid = f2.part
